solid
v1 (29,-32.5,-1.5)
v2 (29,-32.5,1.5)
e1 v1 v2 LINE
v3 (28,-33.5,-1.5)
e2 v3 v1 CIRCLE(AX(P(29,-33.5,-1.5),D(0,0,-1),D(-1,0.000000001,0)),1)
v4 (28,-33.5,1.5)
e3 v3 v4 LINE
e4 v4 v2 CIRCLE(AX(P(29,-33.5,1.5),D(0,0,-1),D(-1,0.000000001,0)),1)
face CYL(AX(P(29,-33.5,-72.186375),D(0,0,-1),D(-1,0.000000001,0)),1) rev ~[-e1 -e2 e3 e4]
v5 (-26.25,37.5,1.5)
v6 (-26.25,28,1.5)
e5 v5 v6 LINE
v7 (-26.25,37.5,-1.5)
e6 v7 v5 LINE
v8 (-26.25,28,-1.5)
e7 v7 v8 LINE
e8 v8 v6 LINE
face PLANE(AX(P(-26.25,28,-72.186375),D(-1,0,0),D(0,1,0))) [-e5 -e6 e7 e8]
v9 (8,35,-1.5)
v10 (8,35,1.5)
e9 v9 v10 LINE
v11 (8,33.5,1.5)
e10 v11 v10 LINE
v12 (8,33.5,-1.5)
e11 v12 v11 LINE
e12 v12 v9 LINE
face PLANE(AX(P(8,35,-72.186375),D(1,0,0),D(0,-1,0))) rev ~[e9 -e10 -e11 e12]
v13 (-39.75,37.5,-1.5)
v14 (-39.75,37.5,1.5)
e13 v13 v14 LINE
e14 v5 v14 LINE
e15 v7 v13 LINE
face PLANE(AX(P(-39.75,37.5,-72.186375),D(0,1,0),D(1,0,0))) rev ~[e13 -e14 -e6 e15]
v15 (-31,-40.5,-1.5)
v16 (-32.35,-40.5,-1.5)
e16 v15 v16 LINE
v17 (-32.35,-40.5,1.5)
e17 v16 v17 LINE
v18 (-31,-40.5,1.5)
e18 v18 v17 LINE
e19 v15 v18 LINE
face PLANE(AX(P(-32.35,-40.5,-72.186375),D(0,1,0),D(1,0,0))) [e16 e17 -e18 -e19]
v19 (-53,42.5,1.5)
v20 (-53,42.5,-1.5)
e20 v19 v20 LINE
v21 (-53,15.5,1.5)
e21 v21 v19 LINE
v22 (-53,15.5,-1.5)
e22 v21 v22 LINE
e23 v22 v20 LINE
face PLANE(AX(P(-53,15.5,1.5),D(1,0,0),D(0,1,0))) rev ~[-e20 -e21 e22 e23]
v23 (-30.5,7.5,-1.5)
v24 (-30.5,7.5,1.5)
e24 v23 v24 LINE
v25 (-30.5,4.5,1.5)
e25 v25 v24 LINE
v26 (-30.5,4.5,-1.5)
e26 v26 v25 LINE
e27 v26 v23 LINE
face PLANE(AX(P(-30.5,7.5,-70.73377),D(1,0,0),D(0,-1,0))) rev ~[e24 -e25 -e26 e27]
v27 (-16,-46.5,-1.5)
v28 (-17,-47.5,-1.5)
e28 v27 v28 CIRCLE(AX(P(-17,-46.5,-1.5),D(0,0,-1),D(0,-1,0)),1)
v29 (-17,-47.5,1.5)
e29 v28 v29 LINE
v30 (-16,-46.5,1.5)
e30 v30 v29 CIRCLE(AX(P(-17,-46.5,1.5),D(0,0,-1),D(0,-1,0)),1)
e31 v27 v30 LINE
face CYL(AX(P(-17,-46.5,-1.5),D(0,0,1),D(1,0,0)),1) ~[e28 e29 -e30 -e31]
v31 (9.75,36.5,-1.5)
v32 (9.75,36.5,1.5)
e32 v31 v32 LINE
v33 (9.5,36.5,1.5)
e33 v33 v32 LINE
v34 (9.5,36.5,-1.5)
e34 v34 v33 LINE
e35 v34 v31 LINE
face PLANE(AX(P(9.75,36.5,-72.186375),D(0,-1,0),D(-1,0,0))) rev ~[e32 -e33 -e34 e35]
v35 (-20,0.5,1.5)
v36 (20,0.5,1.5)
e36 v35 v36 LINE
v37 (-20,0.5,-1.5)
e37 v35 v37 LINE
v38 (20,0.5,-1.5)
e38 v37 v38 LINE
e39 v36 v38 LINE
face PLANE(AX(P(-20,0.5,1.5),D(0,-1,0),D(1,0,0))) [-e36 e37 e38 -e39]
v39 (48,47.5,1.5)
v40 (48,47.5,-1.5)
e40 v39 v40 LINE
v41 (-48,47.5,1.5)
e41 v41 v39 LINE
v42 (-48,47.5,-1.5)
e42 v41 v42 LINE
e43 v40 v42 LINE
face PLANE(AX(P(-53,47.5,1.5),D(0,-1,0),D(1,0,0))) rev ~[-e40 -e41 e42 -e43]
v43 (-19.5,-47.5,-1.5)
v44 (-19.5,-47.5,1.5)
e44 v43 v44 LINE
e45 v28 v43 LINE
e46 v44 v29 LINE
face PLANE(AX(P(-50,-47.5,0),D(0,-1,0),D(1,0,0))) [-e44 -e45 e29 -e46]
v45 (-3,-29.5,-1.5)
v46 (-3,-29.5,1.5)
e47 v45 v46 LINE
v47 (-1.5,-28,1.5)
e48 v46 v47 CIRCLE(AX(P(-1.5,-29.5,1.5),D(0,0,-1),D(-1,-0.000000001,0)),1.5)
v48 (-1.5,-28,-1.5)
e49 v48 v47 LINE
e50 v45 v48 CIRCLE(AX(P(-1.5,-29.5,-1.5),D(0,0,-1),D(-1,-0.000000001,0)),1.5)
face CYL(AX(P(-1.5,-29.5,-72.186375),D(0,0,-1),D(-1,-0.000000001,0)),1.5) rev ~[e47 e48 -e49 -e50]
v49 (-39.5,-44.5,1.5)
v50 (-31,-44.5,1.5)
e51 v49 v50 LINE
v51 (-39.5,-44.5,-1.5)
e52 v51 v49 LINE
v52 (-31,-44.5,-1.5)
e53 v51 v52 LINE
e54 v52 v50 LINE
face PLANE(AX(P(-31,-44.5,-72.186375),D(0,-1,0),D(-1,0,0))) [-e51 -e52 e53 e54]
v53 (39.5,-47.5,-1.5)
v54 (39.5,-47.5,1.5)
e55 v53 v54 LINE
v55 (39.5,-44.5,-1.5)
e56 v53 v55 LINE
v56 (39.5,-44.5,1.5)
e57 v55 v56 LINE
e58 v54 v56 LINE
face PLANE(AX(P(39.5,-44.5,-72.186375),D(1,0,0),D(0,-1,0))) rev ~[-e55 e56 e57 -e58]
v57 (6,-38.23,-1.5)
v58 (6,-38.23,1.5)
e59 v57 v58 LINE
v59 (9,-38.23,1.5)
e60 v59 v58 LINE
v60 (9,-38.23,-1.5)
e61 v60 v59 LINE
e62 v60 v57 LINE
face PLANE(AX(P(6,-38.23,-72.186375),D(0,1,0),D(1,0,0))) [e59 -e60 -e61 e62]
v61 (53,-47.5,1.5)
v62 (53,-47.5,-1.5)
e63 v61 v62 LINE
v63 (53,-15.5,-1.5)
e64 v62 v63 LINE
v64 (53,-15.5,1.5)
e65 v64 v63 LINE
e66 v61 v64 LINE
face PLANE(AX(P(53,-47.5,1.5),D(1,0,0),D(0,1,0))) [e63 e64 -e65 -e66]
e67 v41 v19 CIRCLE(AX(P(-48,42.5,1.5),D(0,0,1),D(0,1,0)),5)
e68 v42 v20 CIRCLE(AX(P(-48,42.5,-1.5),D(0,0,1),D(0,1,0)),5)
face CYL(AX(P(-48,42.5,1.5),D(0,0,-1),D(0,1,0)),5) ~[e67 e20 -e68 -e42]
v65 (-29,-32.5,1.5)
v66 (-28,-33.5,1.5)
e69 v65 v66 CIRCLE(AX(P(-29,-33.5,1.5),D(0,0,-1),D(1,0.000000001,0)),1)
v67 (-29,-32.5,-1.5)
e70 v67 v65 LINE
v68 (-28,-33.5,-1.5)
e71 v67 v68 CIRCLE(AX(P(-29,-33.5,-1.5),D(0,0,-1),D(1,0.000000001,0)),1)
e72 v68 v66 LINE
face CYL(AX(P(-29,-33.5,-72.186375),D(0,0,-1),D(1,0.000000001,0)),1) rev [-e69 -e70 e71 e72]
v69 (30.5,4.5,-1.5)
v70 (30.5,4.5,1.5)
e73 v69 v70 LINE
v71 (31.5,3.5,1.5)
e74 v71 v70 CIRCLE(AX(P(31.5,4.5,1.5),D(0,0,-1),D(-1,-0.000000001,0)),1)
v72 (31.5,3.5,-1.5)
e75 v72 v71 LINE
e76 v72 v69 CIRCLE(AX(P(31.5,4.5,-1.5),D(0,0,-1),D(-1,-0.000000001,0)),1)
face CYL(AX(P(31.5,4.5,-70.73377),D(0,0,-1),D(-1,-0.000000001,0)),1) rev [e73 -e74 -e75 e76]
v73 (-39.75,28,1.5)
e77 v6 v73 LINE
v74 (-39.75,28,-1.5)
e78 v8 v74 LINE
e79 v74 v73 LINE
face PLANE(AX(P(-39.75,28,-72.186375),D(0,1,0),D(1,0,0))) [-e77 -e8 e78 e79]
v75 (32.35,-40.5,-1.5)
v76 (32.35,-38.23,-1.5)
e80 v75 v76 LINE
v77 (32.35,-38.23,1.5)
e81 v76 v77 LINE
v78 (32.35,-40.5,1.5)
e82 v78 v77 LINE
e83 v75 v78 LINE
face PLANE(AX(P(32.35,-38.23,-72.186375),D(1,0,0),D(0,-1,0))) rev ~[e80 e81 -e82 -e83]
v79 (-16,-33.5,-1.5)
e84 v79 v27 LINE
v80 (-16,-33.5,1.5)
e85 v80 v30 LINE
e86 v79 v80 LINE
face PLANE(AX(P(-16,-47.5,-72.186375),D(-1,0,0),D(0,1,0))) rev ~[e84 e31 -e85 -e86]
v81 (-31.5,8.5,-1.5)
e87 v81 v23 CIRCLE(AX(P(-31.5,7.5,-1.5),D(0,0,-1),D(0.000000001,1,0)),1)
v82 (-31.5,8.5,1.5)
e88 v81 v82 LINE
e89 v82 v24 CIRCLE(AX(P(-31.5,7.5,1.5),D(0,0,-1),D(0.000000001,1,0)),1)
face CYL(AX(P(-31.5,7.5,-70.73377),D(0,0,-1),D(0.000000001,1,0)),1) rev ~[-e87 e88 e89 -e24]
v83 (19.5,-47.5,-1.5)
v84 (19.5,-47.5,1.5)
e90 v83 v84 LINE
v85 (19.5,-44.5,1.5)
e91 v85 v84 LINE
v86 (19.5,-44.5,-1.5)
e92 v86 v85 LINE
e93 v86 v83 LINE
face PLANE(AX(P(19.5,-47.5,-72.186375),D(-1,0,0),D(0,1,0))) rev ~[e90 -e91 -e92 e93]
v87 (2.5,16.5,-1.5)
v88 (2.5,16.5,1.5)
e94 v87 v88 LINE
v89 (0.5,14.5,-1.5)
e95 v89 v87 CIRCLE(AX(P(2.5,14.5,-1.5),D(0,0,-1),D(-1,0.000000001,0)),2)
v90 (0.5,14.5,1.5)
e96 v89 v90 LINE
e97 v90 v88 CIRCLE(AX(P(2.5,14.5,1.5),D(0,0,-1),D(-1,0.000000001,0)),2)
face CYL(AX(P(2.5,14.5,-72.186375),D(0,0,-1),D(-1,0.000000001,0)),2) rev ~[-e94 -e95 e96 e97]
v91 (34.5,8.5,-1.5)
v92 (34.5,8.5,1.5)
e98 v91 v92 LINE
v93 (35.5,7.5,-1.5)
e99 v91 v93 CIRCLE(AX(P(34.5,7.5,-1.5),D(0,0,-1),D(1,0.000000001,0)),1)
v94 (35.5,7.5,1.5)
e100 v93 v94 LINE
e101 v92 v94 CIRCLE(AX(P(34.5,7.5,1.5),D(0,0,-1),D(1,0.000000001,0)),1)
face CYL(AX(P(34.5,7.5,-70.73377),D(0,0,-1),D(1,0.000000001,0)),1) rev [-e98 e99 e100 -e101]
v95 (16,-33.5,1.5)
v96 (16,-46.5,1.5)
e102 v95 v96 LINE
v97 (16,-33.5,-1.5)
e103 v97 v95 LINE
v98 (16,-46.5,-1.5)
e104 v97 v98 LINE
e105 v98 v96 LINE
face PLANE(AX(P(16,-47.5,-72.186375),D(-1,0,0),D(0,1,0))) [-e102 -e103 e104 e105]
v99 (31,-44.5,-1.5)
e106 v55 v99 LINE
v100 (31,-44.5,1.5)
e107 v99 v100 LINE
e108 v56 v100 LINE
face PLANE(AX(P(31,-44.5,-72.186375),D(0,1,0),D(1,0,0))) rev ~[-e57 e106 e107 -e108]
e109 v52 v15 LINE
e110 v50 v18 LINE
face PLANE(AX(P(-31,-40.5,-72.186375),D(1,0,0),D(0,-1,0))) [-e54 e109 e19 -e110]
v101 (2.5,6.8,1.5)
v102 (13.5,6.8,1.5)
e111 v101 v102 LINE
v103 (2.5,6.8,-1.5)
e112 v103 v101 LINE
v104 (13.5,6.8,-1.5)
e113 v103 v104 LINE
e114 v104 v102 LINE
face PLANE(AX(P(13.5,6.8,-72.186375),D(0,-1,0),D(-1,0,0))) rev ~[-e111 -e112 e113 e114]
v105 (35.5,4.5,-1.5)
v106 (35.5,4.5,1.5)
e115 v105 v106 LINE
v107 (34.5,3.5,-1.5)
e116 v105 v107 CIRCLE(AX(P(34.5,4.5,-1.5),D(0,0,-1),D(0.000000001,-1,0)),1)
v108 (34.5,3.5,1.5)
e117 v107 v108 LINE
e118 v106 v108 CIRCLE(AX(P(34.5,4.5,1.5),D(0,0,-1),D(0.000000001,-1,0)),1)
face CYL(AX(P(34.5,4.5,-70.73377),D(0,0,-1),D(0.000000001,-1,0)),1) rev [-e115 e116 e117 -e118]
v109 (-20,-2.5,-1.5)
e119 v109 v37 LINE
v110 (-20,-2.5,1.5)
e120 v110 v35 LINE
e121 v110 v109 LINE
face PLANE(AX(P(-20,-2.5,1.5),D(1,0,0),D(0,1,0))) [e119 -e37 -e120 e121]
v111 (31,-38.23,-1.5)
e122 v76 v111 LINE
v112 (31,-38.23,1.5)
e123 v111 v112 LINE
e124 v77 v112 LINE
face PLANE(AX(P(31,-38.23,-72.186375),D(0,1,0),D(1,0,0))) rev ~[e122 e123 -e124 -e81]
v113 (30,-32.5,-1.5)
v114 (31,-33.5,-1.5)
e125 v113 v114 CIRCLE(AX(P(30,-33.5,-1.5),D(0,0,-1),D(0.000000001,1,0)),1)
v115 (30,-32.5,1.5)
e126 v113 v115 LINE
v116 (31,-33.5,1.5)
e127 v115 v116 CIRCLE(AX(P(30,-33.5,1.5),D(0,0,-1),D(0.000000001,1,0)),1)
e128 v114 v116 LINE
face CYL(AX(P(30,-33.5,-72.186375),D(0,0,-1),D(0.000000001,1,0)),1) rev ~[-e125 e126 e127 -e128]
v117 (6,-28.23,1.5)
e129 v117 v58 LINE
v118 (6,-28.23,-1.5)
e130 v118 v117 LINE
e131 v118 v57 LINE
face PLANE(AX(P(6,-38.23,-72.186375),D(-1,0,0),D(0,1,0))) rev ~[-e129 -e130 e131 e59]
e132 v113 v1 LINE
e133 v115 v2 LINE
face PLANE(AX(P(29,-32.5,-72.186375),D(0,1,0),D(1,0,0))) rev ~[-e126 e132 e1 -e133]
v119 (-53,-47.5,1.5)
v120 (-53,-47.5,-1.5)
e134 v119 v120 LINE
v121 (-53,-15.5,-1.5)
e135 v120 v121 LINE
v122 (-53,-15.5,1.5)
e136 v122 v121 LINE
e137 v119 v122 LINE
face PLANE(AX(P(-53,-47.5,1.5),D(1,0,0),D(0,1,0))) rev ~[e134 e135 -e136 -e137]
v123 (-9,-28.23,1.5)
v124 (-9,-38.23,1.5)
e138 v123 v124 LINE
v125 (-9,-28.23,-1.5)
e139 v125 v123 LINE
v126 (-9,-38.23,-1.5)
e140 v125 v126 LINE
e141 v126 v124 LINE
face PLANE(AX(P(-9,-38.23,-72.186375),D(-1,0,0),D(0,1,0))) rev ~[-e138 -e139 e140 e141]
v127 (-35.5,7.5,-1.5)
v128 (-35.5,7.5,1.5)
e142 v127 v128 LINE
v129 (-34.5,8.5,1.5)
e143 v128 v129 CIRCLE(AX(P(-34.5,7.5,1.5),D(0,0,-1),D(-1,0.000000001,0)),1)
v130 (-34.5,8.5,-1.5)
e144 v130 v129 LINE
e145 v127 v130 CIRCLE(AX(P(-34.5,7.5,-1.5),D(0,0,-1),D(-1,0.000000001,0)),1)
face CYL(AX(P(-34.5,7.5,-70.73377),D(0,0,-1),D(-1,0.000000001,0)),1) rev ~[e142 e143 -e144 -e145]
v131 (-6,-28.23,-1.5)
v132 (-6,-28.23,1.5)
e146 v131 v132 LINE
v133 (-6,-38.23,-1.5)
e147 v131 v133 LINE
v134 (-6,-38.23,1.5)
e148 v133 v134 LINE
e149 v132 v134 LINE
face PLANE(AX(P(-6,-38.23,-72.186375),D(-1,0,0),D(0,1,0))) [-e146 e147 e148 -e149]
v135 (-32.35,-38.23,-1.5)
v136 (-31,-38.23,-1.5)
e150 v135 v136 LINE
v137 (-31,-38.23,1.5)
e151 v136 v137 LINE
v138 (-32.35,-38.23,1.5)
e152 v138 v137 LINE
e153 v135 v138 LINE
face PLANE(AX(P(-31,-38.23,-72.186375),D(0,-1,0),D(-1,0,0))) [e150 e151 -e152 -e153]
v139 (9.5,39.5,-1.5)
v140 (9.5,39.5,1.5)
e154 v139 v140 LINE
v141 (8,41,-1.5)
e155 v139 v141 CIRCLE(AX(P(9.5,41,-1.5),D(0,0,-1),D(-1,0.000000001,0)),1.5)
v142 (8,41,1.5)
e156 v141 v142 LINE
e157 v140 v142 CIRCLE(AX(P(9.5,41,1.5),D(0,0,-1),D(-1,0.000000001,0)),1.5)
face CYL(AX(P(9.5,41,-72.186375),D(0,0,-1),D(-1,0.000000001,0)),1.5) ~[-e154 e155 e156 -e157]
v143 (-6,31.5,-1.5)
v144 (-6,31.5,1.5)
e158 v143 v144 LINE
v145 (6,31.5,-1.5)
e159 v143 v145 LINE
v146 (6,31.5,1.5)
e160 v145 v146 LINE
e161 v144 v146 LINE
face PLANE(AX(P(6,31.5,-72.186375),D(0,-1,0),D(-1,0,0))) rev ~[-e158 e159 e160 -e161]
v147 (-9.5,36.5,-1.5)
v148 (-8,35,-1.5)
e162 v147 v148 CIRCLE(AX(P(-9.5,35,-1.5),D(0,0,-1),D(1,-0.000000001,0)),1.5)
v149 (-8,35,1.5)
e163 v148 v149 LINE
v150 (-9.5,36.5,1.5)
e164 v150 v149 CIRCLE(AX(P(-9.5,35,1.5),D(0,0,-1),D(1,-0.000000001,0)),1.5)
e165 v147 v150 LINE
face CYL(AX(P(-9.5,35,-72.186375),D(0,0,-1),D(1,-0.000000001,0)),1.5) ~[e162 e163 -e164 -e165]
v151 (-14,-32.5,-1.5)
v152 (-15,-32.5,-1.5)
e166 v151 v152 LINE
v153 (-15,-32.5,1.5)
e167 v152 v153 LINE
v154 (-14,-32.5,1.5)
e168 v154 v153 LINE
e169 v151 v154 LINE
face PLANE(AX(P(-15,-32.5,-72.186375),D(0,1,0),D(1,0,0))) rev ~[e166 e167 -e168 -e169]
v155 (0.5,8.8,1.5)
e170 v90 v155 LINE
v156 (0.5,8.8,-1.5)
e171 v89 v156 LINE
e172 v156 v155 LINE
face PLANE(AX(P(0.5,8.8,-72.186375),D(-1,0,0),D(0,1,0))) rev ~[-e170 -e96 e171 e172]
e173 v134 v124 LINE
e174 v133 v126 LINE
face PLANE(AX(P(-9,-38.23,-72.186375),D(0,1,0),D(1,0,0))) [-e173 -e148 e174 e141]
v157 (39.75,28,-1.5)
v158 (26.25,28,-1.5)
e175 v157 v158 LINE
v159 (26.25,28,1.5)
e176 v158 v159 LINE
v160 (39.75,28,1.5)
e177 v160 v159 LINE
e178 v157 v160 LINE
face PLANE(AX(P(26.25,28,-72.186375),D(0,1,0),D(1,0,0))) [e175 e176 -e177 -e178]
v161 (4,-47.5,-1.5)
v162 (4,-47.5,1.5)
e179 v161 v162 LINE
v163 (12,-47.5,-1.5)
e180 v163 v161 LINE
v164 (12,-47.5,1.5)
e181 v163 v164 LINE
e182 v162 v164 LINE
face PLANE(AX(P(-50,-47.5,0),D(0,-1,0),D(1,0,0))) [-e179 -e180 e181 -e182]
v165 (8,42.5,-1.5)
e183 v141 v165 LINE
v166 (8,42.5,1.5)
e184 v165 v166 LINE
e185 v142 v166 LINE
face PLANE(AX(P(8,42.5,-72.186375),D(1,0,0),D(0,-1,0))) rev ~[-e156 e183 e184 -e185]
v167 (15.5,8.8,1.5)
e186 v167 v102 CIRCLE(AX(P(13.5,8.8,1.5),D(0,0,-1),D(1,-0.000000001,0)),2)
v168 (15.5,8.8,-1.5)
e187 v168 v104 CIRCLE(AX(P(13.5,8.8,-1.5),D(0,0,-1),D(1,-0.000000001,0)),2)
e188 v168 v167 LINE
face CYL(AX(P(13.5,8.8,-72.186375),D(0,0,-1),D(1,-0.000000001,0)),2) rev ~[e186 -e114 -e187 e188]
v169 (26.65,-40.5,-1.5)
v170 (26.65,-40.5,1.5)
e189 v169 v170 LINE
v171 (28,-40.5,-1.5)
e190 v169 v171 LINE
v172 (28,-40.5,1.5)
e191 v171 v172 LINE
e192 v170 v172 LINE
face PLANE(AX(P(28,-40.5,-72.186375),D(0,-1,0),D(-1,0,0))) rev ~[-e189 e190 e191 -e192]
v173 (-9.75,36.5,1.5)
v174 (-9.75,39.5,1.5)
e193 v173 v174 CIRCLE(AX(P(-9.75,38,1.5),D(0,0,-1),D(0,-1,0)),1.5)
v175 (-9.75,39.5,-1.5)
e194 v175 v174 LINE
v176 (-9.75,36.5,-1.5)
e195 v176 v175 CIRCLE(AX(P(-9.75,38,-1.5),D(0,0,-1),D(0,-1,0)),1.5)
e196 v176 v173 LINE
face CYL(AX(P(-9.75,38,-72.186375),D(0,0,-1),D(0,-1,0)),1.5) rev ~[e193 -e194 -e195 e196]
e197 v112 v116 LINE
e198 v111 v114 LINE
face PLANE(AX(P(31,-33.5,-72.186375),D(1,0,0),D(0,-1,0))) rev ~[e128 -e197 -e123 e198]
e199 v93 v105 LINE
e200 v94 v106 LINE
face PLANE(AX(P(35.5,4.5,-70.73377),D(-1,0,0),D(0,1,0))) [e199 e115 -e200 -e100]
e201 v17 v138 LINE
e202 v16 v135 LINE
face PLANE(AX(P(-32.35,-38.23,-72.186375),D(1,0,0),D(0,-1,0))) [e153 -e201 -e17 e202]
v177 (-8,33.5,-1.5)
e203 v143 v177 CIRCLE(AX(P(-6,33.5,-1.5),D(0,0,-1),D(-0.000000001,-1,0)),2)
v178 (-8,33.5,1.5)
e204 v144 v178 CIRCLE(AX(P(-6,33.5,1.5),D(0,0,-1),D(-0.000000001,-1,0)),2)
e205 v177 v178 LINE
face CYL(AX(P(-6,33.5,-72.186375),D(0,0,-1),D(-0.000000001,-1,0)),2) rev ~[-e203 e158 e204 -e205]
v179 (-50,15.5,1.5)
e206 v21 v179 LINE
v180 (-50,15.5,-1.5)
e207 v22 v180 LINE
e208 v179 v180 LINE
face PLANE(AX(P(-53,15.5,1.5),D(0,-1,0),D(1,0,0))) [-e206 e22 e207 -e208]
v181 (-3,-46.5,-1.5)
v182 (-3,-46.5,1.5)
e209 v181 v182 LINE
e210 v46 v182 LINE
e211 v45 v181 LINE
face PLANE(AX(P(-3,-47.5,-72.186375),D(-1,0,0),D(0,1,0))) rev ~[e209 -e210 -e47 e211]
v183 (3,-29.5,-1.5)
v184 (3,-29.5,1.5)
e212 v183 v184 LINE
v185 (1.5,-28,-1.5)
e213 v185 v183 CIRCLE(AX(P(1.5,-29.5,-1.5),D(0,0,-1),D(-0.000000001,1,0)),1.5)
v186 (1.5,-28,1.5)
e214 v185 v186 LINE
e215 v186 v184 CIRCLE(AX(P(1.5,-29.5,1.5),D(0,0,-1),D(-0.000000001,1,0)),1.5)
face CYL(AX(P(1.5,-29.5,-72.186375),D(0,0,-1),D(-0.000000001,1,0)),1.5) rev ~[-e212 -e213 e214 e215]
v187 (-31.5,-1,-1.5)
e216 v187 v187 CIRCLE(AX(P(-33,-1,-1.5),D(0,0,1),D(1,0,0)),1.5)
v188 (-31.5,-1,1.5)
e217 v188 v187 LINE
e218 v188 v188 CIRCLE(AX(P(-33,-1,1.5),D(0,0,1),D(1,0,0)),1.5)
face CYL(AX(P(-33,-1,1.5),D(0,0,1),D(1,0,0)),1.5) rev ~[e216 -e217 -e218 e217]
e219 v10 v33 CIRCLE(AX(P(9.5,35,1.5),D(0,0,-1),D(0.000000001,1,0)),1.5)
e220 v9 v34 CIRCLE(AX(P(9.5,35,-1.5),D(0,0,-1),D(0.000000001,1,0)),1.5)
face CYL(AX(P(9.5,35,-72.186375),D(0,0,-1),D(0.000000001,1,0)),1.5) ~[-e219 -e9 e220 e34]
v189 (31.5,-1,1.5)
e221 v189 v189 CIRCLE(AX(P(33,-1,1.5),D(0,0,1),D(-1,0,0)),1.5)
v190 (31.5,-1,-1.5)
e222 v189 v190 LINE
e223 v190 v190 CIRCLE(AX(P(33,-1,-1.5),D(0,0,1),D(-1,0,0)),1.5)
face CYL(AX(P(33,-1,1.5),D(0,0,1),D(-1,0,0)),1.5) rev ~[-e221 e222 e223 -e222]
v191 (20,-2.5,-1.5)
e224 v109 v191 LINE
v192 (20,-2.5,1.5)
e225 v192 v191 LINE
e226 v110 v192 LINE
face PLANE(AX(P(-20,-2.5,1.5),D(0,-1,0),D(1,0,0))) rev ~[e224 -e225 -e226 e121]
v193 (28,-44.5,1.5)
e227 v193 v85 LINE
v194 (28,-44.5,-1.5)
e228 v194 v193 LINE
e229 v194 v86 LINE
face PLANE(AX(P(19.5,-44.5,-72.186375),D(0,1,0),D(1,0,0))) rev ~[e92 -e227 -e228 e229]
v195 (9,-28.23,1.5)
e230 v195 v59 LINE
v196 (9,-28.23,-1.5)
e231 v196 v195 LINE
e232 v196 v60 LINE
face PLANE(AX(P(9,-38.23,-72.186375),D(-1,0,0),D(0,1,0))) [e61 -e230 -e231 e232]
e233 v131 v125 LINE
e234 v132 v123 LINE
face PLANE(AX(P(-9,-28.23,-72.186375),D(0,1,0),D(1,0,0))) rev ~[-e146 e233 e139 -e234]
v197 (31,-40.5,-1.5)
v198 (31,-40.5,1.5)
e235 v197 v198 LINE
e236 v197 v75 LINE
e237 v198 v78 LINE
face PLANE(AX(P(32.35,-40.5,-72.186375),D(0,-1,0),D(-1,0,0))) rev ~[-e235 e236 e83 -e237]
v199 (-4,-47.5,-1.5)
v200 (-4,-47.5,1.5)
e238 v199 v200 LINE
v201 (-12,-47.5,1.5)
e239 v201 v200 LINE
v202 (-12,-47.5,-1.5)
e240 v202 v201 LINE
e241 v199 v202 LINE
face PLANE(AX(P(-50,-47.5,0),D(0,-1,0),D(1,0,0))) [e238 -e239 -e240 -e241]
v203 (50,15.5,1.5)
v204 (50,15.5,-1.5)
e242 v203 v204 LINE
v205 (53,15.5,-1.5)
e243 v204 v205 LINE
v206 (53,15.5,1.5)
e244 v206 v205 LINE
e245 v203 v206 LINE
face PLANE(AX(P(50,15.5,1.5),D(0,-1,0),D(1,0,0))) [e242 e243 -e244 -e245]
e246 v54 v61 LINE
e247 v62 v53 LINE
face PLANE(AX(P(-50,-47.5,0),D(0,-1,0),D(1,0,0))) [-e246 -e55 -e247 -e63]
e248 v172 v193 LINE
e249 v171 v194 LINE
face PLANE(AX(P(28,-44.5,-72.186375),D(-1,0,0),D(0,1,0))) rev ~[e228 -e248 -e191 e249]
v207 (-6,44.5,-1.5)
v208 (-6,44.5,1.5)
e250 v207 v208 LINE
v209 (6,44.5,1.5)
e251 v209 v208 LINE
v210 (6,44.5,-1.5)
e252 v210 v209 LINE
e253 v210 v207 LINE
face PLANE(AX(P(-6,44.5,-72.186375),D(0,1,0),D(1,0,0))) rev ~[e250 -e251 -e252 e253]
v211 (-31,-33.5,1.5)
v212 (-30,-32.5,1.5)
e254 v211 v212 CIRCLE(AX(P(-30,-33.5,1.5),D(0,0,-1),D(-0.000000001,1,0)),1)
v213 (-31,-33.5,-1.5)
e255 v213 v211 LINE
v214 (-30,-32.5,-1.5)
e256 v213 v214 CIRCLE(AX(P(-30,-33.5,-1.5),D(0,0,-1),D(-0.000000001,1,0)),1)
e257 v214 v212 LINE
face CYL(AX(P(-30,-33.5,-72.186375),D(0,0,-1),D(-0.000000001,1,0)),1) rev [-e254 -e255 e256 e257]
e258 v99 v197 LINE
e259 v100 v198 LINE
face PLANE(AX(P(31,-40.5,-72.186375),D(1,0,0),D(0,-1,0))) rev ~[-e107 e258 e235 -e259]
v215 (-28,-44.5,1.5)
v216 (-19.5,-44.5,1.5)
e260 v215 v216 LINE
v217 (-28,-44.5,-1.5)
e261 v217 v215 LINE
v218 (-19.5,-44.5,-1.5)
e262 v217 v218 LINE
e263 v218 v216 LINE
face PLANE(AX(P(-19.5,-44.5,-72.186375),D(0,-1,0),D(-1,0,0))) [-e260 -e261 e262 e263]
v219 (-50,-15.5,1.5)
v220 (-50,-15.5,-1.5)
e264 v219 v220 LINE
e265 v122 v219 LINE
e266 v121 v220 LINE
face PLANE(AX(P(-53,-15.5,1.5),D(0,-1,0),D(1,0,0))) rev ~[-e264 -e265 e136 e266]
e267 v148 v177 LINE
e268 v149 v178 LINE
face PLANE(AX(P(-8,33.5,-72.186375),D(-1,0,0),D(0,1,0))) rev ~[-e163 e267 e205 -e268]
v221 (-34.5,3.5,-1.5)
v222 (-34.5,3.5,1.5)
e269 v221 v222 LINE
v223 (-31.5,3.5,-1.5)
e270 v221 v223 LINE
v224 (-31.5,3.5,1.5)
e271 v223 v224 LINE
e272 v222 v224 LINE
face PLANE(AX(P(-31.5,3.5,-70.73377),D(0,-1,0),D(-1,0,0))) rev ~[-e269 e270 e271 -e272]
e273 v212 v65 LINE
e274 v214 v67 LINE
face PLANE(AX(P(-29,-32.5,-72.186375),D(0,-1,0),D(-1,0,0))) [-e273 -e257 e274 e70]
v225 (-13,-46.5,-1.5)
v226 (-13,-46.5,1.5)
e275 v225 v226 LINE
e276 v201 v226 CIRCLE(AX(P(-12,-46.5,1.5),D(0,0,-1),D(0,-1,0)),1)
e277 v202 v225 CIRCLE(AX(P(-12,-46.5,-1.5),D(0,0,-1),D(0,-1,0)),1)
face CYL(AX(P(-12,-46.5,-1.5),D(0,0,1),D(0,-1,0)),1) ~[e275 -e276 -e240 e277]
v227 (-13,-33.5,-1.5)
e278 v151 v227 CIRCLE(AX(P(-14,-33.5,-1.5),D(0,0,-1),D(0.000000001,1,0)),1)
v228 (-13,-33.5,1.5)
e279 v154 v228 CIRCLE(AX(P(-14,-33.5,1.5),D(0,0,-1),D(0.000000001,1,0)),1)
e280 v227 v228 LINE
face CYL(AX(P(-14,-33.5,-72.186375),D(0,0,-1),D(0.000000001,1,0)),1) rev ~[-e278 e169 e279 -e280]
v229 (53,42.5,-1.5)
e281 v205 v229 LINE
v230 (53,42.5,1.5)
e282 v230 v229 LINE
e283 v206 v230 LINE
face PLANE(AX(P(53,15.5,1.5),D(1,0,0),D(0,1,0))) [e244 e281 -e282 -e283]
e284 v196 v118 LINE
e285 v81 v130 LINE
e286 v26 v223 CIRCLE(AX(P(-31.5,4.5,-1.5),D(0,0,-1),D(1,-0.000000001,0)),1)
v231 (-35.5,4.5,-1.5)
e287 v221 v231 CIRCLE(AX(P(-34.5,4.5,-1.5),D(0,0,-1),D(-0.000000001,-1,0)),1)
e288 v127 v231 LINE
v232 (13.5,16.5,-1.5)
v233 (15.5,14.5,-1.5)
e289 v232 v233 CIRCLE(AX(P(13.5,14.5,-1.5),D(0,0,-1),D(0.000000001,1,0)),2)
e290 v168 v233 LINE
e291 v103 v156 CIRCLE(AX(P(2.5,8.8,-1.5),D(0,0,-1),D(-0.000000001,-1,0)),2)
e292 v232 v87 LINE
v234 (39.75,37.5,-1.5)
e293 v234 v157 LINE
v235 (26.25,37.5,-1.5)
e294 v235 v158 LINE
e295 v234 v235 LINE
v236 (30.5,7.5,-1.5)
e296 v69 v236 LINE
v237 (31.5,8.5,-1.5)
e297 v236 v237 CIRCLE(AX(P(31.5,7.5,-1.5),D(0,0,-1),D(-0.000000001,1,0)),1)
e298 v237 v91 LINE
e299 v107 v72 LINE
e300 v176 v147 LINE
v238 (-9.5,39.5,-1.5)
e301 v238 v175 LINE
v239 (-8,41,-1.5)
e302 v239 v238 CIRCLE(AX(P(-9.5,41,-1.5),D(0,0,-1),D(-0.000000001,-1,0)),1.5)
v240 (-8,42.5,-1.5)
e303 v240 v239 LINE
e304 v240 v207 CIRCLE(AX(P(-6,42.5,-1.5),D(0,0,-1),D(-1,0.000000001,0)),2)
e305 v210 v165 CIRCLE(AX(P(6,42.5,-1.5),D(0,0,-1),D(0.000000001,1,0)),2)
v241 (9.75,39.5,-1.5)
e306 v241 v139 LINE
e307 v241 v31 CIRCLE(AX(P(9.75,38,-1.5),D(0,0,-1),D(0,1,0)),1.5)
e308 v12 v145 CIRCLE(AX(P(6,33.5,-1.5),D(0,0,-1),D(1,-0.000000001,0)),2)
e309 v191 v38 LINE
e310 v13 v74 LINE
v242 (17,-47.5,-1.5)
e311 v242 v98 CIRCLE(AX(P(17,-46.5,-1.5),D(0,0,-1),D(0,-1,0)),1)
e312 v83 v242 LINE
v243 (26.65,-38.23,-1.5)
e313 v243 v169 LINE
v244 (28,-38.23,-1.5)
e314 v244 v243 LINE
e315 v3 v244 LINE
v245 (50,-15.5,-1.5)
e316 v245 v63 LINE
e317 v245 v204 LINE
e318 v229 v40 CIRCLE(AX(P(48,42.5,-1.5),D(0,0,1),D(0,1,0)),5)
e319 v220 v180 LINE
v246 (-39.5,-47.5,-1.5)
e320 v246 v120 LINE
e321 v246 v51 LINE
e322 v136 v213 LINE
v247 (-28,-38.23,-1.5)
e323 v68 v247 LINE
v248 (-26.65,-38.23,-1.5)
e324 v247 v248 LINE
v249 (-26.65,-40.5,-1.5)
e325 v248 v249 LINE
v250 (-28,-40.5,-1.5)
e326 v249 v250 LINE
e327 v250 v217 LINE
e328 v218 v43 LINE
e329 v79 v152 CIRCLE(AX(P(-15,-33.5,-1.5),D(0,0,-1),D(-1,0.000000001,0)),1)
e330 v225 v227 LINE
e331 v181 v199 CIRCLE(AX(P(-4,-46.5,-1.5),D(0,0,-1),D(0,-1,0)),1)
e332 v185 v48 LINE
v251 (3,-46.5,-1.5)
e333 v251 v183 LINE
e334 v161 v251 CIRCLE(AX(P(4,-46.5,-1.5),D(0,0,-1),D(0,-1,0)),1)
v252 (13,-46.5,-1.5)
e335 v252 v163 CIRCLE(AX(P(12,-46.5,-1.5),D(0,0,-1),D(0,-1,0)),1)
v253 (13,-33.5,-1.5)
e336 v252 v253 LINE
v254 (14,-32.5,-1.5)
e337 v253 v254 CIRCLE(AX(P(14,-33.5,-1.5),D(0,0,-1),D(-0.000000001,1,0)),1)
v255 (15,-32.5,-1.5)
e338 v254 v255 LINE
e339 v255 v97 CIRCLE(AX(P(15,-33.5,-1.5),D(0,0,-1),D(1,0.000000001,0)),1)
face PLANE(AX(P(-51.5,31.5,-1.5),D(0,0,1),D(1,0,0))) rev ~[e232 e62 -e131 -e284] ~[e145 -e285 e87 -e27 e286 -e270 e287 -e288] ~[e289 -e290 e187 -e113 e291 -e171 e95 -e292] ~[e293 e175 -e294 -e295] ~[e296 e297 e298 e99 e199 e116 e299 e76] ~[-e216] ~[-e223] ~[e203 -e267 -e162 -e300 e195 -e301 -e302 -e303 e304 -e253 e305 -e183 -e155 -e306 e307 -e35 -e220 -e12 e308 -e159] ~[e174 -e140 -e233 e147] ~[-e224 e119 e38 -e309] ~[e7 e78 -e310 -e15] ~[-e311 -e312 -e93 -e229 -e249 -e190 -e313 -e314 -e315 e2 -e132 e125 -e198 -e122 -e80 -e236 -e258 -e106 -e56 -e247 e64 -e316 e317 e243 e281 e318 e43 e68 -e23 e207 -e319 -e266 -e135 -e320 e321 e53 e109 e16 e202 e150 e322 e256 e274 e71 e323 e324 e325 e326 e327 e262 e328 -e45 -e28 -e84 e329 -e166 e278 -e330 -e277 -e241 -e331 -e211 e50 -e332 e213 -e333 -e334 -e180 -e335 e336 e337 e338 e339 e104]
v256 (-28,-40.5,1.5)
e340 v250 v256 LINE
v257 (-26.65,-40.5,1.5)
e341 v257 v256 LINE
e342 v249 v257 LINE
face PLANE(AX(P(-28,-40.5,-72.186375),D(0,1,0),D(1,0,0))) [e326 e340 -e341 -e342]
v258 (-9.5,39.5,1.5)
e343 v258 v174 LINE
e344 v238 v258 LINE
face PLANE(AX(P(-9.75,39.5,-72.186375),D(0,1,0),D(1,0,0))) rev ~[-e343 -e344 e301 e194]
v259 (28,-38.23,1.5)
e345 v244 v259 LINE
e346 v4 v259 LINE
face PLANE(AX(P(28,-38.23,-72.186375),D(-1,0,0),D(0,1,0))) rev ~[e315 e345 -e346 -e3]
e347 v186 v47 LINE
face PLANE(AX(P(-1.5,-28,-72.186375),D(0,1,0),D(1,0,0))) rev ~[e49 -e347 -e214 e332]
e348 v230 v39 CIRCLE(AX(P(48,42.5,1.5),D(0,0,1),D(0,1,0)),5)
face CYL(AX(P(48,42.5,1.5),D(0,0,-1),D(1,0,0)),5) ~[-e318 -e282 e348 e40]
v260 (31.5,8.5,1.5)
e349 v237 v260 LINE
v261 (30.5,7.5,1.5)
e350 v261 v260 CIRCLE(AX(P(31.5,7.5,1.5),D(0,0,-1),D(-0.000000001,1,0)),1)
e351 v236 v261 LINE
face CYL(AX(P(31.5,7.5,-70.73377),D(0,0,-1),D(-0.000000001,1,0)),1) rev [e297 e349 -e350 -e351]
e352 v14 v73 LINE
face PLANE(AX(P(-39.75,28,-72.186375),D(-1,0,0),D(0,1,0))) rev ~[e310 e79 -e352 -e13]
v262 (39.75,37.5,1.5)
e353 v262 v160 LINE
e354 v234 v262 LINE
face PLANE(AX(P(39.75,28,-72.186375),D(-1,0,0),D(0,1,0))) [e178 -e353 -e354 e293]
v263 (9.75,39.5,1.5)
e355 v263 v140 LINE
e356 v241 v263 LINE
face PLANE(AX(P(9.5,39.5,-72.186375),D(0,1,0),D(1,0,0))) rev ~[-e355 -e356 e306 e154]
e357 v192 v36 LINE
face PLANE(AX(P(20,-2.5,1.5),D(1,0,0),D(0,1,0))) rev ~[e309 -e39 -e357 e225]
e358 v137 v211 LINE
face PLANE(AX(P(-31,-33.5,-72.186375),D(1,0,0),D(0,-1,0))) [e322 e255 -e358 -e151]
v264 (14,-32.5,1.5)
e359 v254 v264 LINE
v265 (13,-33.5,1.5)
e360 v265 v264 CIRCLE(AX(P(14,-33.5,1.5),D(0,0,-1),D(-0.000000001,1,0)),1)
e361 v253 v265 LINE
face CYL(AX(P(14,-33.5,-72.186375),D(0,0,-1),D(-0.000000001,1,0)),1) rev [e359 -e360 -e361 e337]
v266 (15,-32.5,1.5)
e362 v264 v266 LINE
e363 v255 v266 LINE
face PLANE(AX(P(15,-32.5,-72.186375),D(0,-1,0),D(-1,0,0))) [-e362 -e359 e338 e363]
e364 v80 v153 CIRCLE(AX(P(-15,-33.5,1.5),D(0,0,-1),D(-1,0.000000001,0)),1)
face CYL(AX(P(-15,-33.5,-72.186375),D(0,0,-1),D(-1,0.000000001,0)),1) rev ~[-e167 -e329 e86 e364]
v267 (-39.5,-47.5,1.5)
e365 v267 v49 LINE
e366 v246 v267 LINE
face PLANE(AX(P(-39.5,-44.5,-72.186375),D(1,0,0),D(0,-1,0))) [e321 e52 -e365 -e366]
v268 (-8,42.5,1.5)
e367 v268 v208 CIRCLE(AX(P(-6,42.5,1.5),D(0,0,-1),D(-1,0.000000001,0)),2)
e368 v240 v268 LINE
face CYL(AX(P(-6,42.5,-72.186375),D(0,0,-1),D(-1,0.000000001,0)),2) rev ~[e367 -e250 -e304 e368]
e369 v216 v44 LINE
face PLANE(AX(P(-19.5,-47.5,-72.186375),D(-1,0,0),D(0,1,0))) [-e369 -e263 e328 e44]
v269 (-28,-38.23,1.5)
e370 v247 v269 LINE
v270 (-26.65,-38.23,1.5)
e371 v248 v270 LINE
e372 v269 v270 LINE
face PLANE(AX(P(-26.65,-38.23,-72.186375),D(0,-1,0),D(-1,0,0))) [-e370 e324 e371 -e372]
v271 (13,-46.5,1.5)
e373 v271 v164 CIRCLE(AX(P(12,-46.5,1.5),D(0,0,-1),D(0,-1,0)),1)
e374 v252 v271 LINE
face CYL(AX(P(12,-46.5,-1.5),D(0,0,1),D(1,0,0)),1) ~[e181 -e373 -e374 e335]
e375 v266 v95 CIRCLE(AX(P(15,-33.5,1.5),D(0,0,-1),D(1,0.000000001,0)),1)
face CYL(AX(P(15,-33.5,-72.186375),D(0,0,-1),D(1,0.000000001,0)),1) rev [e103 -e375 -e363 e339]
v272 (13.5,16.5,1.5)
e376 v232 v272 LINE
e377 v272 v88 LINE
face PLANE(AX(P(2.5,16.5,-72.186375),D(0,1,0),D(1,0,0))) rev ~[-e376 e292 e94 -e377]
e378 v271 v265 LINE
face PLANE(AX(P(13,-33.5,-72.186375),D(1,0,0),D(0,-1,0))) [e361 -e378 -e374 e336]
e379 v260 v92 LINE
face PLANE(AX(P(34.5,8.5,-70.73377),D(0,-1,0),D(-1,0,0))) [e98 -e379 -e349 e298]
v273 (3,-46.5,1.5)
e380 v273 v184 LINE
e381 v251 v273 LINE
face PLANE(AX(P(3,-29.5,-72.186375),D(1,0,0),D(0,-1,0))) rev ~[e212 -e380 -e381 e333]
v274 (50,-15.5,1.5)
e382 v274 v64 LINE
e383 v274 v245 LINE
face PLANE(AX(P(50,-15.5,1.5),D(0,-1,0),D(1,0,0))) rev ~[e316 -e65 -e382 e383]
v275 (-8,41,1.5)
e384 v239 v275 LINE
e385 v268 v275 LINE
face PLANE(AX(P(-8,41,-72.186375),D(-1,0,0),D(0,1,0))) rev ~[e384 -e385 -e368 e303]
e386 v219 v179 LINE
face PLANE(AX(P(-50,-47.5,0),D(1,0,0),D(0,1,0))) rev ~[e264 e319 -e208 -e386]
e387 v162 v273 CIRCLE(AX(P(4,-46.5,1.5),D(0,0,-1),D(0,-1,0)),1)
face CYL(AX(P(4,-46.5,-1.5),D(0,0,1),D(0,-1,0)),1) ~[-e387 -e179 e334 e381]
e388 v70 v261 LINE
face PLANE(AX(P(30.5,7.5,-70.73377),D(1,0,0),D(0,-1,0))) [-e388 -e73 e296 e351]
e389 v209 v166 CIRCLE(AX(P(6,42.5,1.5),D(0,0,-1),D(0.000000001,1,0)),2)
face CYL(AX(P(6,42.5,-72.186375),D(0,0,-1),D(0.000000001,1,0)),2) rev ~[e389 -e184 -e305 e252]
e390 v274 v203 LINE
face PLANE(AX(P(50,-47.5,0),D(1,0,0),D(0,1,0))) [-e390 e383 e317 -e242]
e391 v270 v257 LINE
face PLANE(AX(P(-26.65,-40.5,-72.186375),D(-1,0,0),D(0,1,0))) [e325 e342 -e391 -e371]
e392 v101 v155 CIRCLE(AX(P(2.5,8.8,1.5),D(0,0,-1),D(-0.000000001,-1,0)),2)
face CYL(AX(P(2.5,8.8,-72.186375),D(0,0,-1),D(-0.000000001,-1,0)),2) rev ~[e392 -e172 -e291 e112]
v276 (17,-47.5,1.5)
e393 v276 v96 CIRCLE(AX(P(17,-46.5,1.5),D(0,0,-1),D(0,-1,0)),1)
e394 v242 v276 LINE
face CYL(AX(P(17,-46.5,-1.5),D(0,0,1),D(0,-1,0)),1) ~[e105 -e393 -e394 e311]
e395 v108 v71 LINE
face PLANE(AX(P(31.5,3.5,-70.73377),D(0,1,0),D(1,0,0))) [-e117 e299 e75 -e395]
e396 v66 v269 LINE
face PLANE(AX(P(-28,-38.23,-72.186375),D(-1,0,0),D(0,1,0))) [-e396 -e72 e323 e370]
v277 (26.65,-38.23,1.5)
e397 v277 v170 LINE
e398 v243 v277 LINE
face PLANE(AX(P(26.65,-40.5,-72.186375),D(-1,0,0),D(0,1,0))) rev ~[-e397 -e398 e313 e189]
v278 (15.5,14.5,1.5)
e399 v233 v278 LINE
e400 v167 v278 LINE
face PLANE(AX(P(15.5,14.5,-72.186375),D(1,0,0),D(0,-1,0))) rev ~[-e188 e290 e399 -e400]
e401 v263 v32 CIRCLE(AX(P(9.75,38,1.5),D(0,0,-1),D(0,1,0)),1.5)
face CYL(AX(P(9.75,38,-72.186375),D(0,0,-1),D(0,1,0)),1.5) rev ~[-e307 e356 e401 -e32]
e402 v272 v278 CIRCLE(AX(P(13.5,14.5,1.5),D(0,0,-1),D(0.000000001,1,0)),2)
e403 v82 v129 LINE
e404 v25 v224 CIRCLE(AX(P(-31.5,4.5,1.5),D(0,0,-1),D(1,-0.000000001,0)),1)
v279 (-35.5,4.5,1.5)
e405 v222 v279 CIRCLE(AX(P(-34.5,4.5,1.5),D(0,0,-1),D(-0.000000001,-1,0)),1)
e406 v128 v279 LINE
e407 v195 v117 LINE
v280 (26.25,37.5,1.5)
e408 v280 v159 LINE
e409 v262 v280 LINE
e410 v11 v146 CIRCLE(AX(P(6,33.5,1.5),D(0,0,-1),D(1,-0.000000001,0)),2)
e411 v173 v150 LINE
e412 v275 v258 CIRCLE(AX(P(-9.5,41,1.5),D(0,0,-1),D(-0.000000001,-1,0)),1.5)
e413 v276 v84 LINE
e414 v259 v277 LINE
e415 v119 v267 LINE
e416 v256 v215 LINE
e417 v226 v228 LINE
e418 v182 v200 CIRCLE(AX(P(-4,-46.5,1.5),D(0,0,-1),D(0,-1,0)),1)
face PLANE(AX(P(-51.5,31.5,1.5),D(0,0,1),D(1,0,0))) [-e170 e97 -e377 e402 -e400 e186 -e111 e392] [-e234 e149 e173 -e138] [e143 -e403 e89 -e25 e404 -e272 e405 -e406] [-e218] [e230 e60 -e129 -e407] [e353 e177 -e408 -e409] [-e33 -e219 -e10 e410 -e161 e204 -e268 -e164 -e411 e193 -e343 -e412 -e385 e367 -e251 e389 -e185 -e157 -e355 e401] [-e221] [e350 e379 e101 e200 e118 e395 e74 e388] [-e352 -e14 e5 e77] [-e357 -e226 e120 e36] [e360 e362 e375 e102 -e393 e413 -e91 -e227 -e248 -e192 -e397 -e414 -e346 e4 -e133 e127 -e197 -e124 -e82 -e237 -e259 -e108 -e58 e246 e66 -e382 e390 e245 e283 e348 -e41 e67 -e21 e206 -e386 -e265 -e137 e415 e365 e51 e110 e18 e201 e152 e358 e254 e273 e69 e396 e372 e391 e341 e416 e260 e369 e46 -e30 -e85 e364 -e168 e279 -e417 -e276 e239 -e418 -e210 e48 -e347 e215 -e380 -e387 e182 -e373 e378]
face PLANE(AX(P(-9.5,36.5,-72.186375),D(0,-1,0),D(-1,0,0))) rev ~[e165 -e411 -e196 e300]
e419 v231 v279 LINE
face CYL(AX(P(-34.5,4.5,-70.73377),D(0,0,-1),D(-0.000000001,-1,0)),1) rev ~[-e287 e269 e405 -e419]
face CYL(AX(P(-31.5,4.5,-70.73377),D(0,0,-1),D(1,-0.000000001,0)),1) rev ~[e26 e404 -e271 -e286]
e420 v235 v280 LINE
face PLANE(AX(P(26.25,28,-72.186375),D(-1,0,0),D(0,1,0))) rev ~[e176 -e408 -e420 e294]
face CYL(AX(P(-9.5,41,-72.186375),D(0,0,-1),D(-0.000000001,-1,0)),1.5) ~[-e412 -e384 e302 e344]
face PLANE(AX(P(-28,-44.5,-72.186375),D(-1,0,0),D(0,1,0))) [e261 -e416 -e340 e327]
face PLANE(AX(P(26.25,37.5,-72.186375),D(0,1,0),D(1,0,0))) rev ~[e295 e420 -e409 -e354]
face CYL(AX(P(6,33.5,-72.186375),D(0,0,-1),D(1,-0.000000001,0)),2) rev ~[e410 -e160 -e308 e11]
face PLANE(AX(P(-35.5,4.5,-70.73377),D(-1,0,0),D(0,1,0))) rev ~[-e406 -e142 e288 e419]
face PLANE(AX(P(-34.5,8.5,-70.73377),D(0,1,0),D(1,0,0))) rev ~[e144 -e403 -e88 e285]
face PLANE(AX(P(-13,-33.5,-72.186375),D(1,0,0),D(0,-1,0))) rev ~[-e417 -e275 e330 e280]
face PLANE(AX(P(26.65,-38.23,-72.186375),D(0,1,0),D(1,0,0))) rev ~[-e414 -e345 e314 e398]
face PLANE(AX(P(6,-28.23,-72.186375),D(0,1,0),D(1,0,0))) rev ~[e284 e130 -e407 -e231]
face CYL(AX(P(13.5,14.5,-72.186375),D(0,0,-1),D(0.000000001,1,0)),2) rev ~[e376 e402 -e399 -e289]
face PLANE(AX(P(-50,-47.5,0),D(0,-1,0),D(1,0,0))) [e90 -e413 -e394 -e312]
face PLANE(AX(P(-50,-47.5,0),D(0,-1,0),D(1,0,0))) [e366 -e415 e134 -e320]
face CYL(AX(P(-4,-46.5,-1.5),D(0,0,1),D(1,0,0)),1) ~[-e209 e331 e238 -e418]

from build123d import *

# Parameters (mm, degrees)
ESBO_O1_W                = 100
ESBO_O1_H                = 95
RESSALTO_EXTRUS_O1_DEPTH = 1.5
ESBO_O3_W                = 3
ESBO_O3_H                = 32
RESSALTO_EXTRUS_O2_DEPTH = 3
ESBO_O2_R                = 1.5
ESBO_O2_W                = 40
ESBO_O2_H                = 3
CORTE_EXTRUS_O1_DEPTH    = 72.233770081
CUT_EXTRUDE3_DEPTH       = 72.233770081
CUT_EXTRUDE3_DEPTH_BACK  = 72.233770081
CUT_EXTRUDE5_DEPTH       = 72.186375101
CUT_EXTRUDE5_DEPTH_BACK  = 72.186375101
CUT_EXTRUDE6_DEPTH       = 72.186375101
CUT_EXTRUDE6_DEPTH_BACK  = 72.186375101
SKETCH7_W                = 13.5
SKETCH7_H                = 9.5
CUT_EXTRUDE7_DEPTH       = 72.186375101
CUT_EXTRUDE7_DEPTH_BACK  = 72.186375101
SKETCH8_W                = 3
SKETCH8_H                = 10
CUT_EXTRUDE8_DEPTH       = 72.186375101
CUT_EXTRUDE8_DEPTH_BACK  = 72.186375101
CUT_EXTRUDE10_DEPTH      = 72.186375101
CUT_EXTRUDE10_DEPTH_BACK = 72.186375101
CUT_EXTRUDE11_DEPTH      = 72.186375101
CUT_EXTRUDE11_DEPTH_BACK = 72.186375101
FILLET1_R                = 1
FILLET2_R                = 5


with BuildPart() as part:
    # Esboço1 → Ressalto-extrusão1 (new, symmetric)
    with BuildSketch(Plane.XY):
        Rectangle(ESBO_O1_W, ESBO_O1_H)
    extrude(amount=RESSALTO_EXTRUS_O1_DEPTH, both=True)

    # Esboço3 → Ressalto-extrusão2 (add, through all)
    with BuildSketch(Plane.XY.offset(1.5)):
        with Locations((-51.5, 31.5)):
            Rectangle(ESBO_O3_W, ESBO_O3_H)
        with Locations((-51.5, -31.5)):
            Rectangle(ESBO_O3_W, ESBO_O3_H)
        with Locations((51.5, -31.5)):
            Rectangle(ESBO_O3_W, ESBO_O3_H)
        with Locations((51.5, 31.5)):
            Rectangle(ESBO_O3_W, ESBO_O3_H)
    extrude(amount=-RESSALTO_EXTRUS_O2_DEPTH)

    # Esboço2 → Corte-extrusão1 (cut, through all)
    with BuildSketch(Plane.XY.offset(1.5)):
        with Locations((-33, -1)):
            Circle(ESBO_O2_R)
        with Locations(Location((33, -1, 0), (0, 0, 180))):
            Circle(ESBO_O2_R)
        with Locations((0, -1)):
            Rectangle(ESBO_O2_W, ESBO_O2_H)
    extrude(amount=-CORTE_EXTRUS_O1_DEPTH, mode=Mode.SUBTRACT)

    # Sketch4 → Cut-Extrude3 (cut, two sides: drawn at the far end of the back side and taken through both)
    with BuildSketch(Plane.XY.offset(1.5).offset(-CUT_EXTRUDE3_DEPTH_BACK)):
        with BuildLine():
            Line((-34.5, 8.5), (-31.5, 8.5))
            ThreePointArc((-31.5, 8.5), (-30.792893219, 8.207106781), (-30.5, 7.5))
            Line((-30.5, 7.5), (-30.5, 4.5))
            ThreePointArc((-30.5, 4.5), (-30.792893219, 3.792893219), (-31.5, 3.5))
            Line((-31.5, 3.5), (-34.5, 3.5))
            ThreePointArc((-34.5, 3.5), (-35.207106781, 3.792893219), (-35.5, 4.5))
            Line((-35.5, 4.5), (-35.5, 7.5))
            ThreePointArc((-35.5, 7.5), (-35.207106781, 8.207106781), (-34.5, 8.5))
        make_face()
        with BuildLine():
            Line((30.5, 7.5), (30.5, 4.5))
            ThreePointArc((30.5, 4.5), (30.792893219, 3.792893219), (31.5, 3.5))
            Line((31.5, 3.5), (34.5, 3.5))
            ThreePointArc((34.5, 3.5), (35.207106781, 3.792893219), (35.5, 4.5))
            Line((35.5, 4.5), (35.5, 7.5))
            ThreePointArc((35.5, 7.5), (35.207106781, 8.207106781), (34.5, 8.5))
            Line((34.5, 8.5), (31.5, 8.5))
            ThreePointArc((31.5, 8.5), (30.792893219, 8.207106781), (30.5, 7.5))
        make_face()
    extrude(amount=CUT_EXTRUDE3_DEPTH + CUT_EXTRUDE3_DEPTH_BACK, mode=Mode.SUBTRACT)

    # Sketch6 → Cut-Extrude5 (cut, two sides: drawn at the far end of the back side and taken through both)
    with BuildSketch(Plane.XY.offset(-CUT_EXTRUDE5_DEPTH_BACK)):
        with BuildLine():
            Line((-6, 44.5), (6, 44.5))
            ThreePointArc((6, 44.5), (7.414213562, 43.914213562), (8, 42.5))
            Line((8, 42.5), (8, 41))
            ThreePointArc((8, 41), (8.439339828, 39.939339828), (9.5, 39.5))
            Line((9.5, 39.5), (9.75, 39.5))
            ThreePointArc((9.75, 39.5), (11.25, 38), (9.75, 36.5))
            Line((9.75, 36.5), (9.5, 36.5))
            ThreePointArc((9.5, 36.5), (8.439339828, 36.060660172), (8, 35))
            Line((8, 35), (8, 33.5))
            ThreePointArc((8, 33.5), (7.414213562, 32.085786438), (6, 31.5))
            Line((6, 31.5), (-6, 31.5))
            ThreePointArc((-6, 31.5), (-7.414213562, 32.085786438), (-8, 33.5))
            Line((-8, 33.5), (-8, 35))
            ThreePointArc((-8, 35), (-8.439339828, 36.060660172), (-9.5, 36.5))
            Line((-9.5, 36.5), (-9.75, 36.5))
            ThreePointArc((-9.75, 36.5), (-11.25, 38), (-9.75, 39.5))
            Line((-9.75, 39.5), (-9.5, 39.5))
            ThreePointArc((-9.5, 39.5), (-8.439339828, 39.939339828), (-8, 41))
            Line((-8, 41), (-8, 42.5))
            ThreePointArc((-8, 42.5), (-7.414213562, 43.914213562), (-6, 44.5))
        make_face()
    extrude(amount=CUT_EXTRUDE5_DEPTH + CUT_EXTRUDE5_DEPTH_BACK, mode=Mode.SUBTRACT)

    # Sketch7 → Cut-Extrude6 (cut, two sides: drawn at the far end of the back side and taken through both)
    with BuildSketch(Plane.XY.offset(-CUT_EXTRUDE6_DEPTH_BACK)):
        with Locations((-33, 32.75)):
            Rectangle(SKETCH7_W, SKETCH7_H)
        with Locations((33, 32.75)):
            Rectangle(SKETCH7_W, SKETCH7_H)
    extrude(amount=CUT_EXTRUDE6_DEPTH + CUT_EXTRUDE6_DEPTH_BACK, mode=Mode.SUBTRACT)

    # Sketch8 → Cut-Extrude7 (cut, two sides: drawn at the far end of the back side and taken through both)
    with BuildSketch(Plane.XY.offset(-CUT_EXTRUDE7_DEPTH_BACK)):
        with Locations((-7.5, -33.23)):
            Rectangle(SKETCH8_W, SKETCH8_H)
        with Locations((7.5, -33.23)):
            Rectangle(SKETCH8_W, SKETCH8_H)
    extrude(amount=CUT_EXTRUDE7_DEPTH + CUT_EXTRUDE7_DEPTH_BACK, mode=Mode.SUBTRACT)

    # Sketch9 → Cut-Extrude8 (cut, two sides: drawn at the far end of the back side and taken through both)
    with BuildSketch(Plane.XY.offset(-CUT_EXTRUDE8_DEPTH_BACK)):
        with BuildLine():
            Line((2.5, 16.5), (13.5, 16.5))
            ThreePointArc((13.5, 16.5), (14.914213562, 15.914213562), (15.5, 14.5))
            Line((15.5, 14.5), (15.5, 8.8))
            ThreePointArc((15.5, 8.8), (14.914213562, 7.385786438), (13.5, 6.8))
            Line((13.5, 6.8), (2.5, 6.8))
            ThreePointArc((2.5, 6.8), (1.085786438, 7.385786438), (0.5, 8.8))
            Line((0.5, 8.8), (0.5, 14.5))
            ThreePointArc((0.5, 14.5), (1.085786438, 15.914213562), (2.5, 16.5))
        make_face()
    extrude(amount=CUT_EXTRUDE8_DEPTH + CUT_EXTRUDE8_DEPTH_BACK, mode=Mode.SUBTRACT)

    # Sketch11 → Cut-Extrude10 (cut, two sides: drawn at the far end of the back side and taken through both)
    with BuildSketch(Plane.XY.offset(-CUT_EXTRUDE10_DEPTH_BACK)):
        with BuildLine():
            Line((13, -33.5), (13, -47.5))
            Line((13, -47.5), (16, -47.5))
            Line((16, -47.5), (16, -33.5))
            ThreePointArc((16, -33.5), (15.707106781, -32.792893219), (15, -32.5))
            Line((15, -32.5), (14, -32.5))
            ThreePointArc((14, -32.5), (13.292893219, -32.792893219), (13, -33.5))
        make_face()
        with BuildLine():
            Line((-1.5, -28), (1.5, -28))
            ThreePointArc((1.5, -28), (2.560660172, -28.439339828), (3, -29.5))
            Line((3, -29.5), (3, -47.5))
            Line((3, -47.5), (-3, -47.5))
            Line((-3, -47.5), (-3, -29.5))
            ThreePointArc((-3, -29.5), (-2.560660172, -28.439339828), (-1.5, -28))
        make_face()
        with BuildLine():
            Line((-15, -32.5), (-14, -32.5))
            ThreePointArc((-14, -32.5), (-13.292893219, -32.792893219), (-13, -33.5))
            Line((-13, -33.5), (-13, -47.5))
            Line((-13, -47.5), (-16, -47.5))
            Line((-16, -47.5), (-16, -33.5))
            ThreePointArc((-16, -33.5), (-15.707106781, -32.792893219), (-15, -32.5))
        make_face()
    extrude(amount=CUT_EXTRUDE10_DEPTH + CUT_EXTRUDE10_DEPTH_BACK, mode=Mode.SUBTRACT)

    # Sketch12 → Cut-Extrude11 (cut, two sides: drawn at the far end of the back side and taken through both)
    with BuildSketch(Plane.XY.offset(-CUT_EXTRUDE11_DEPTH_BACK)):
        with BuildLine():
            Line((-39.5, -47.5), (-19.5, -47.5))
            Line((-19.5, -47.5), (-19.5, -44.5))
            Line((-19.5, -44.5), (-28, -44.5))
            Line((-28, -44.5), (-28, -40.5))
            Line((-28, -40.5), (-26.65, -40.5))
            Line((-26.65, -40.5), (-26.65, -38.23))
            Line((-26.65, -38.23), (-28, -38.23))
            Line((-28, -38.23), (-28, -33.5))
            ThreePointArc((-28, -33.5), (-28.292893219, -32.792893219), (-29, -32.5))
            Line((-29, -32.5), (-30, -32.5))
            ThreePointArc((-30, -32.5), (-30.707106781, -32.792893219), (-31, -33.5))
            Line((-31, -33.5), (-31, -38.23))
            Line((-31, -38.23), (-32.35, -38.23))
            Line((-32.35, -38.23), (-32.35, -40.5))
            Line((-32.35, -40.5), (-31, -40.5))
            Line((-31, -40.5), (-31, -44.5))
            Line((-31, -44.5), (-39.5, -44.5))
            Line((-39.5, -44.5), (-39.5, -47.5))
        make_face()
        with BuildLine():
            Line((28, -38.23), (28, -33.5))
            ThreePointArc((28, -33.5), (28.292893219, -32.792893219), (29, -32.5))
            Line((29, -32.5), (30, -32.5))
            ThreePointArc((30, -32.5), (30.707106781, -32.792893219), (31, -33.5))
            Line((31, -33.5), (31, -38.23))
            Line((31, -38.23), (32.35, -38.23))
            Line((32.35, -38.23), (32.35, -40.5))
            Line((32.35, -40.5), (31, -40.5))
            Line((31, -40.5), (31, -44.5))
            Line((31, -44.5), (39.5, -44.5))
            Line((39.5, -44.5), (39.5, -47.5))
            Line((39.5, -47.5), (19.5, -47.5))
            Line((19.5, -47.5), (19.5, -44.5))
            Line((19.5, -44.5), (28, -44.5))
            Line((28, -44.5), (28, -40.5))
            Line((28, -40.5), (26.65, -40.5))
            Line((26.65, -40.5), (26.65, -38.23))
            Line((26.65, -38.23), (28, -38.23))
        make_face()
    extrude(amount=CUT_EXTRUDE11_DEPTH + CUT_EXTRUDE11_DEPTH_BACK, mode=Mode.SUBTRACT)

    # Fillet1
    fillet1_edges = [part.edges().sort_by_distance(p)[0] for p in [
        (16, -47.5, 0),
        (13, -47.5, 0),
        (-13, -47.5, 0),
        (-16, -47.5, 0),
        (3, -47.5, 0),
        (-3, -47.5, 0),
    ]]
    fillet(fillet1_edges, radius=FILLET1_R)

    # Fillet2
    fillet2_edges = [part.edges().sort_by_distance(p)[0] for p in [
        (-53, 47.5, 0),
        (53, 47.5, 0),
    ]]
    fillet(fillet2_edges, radius=FILLET2_R)


solid = part.part
